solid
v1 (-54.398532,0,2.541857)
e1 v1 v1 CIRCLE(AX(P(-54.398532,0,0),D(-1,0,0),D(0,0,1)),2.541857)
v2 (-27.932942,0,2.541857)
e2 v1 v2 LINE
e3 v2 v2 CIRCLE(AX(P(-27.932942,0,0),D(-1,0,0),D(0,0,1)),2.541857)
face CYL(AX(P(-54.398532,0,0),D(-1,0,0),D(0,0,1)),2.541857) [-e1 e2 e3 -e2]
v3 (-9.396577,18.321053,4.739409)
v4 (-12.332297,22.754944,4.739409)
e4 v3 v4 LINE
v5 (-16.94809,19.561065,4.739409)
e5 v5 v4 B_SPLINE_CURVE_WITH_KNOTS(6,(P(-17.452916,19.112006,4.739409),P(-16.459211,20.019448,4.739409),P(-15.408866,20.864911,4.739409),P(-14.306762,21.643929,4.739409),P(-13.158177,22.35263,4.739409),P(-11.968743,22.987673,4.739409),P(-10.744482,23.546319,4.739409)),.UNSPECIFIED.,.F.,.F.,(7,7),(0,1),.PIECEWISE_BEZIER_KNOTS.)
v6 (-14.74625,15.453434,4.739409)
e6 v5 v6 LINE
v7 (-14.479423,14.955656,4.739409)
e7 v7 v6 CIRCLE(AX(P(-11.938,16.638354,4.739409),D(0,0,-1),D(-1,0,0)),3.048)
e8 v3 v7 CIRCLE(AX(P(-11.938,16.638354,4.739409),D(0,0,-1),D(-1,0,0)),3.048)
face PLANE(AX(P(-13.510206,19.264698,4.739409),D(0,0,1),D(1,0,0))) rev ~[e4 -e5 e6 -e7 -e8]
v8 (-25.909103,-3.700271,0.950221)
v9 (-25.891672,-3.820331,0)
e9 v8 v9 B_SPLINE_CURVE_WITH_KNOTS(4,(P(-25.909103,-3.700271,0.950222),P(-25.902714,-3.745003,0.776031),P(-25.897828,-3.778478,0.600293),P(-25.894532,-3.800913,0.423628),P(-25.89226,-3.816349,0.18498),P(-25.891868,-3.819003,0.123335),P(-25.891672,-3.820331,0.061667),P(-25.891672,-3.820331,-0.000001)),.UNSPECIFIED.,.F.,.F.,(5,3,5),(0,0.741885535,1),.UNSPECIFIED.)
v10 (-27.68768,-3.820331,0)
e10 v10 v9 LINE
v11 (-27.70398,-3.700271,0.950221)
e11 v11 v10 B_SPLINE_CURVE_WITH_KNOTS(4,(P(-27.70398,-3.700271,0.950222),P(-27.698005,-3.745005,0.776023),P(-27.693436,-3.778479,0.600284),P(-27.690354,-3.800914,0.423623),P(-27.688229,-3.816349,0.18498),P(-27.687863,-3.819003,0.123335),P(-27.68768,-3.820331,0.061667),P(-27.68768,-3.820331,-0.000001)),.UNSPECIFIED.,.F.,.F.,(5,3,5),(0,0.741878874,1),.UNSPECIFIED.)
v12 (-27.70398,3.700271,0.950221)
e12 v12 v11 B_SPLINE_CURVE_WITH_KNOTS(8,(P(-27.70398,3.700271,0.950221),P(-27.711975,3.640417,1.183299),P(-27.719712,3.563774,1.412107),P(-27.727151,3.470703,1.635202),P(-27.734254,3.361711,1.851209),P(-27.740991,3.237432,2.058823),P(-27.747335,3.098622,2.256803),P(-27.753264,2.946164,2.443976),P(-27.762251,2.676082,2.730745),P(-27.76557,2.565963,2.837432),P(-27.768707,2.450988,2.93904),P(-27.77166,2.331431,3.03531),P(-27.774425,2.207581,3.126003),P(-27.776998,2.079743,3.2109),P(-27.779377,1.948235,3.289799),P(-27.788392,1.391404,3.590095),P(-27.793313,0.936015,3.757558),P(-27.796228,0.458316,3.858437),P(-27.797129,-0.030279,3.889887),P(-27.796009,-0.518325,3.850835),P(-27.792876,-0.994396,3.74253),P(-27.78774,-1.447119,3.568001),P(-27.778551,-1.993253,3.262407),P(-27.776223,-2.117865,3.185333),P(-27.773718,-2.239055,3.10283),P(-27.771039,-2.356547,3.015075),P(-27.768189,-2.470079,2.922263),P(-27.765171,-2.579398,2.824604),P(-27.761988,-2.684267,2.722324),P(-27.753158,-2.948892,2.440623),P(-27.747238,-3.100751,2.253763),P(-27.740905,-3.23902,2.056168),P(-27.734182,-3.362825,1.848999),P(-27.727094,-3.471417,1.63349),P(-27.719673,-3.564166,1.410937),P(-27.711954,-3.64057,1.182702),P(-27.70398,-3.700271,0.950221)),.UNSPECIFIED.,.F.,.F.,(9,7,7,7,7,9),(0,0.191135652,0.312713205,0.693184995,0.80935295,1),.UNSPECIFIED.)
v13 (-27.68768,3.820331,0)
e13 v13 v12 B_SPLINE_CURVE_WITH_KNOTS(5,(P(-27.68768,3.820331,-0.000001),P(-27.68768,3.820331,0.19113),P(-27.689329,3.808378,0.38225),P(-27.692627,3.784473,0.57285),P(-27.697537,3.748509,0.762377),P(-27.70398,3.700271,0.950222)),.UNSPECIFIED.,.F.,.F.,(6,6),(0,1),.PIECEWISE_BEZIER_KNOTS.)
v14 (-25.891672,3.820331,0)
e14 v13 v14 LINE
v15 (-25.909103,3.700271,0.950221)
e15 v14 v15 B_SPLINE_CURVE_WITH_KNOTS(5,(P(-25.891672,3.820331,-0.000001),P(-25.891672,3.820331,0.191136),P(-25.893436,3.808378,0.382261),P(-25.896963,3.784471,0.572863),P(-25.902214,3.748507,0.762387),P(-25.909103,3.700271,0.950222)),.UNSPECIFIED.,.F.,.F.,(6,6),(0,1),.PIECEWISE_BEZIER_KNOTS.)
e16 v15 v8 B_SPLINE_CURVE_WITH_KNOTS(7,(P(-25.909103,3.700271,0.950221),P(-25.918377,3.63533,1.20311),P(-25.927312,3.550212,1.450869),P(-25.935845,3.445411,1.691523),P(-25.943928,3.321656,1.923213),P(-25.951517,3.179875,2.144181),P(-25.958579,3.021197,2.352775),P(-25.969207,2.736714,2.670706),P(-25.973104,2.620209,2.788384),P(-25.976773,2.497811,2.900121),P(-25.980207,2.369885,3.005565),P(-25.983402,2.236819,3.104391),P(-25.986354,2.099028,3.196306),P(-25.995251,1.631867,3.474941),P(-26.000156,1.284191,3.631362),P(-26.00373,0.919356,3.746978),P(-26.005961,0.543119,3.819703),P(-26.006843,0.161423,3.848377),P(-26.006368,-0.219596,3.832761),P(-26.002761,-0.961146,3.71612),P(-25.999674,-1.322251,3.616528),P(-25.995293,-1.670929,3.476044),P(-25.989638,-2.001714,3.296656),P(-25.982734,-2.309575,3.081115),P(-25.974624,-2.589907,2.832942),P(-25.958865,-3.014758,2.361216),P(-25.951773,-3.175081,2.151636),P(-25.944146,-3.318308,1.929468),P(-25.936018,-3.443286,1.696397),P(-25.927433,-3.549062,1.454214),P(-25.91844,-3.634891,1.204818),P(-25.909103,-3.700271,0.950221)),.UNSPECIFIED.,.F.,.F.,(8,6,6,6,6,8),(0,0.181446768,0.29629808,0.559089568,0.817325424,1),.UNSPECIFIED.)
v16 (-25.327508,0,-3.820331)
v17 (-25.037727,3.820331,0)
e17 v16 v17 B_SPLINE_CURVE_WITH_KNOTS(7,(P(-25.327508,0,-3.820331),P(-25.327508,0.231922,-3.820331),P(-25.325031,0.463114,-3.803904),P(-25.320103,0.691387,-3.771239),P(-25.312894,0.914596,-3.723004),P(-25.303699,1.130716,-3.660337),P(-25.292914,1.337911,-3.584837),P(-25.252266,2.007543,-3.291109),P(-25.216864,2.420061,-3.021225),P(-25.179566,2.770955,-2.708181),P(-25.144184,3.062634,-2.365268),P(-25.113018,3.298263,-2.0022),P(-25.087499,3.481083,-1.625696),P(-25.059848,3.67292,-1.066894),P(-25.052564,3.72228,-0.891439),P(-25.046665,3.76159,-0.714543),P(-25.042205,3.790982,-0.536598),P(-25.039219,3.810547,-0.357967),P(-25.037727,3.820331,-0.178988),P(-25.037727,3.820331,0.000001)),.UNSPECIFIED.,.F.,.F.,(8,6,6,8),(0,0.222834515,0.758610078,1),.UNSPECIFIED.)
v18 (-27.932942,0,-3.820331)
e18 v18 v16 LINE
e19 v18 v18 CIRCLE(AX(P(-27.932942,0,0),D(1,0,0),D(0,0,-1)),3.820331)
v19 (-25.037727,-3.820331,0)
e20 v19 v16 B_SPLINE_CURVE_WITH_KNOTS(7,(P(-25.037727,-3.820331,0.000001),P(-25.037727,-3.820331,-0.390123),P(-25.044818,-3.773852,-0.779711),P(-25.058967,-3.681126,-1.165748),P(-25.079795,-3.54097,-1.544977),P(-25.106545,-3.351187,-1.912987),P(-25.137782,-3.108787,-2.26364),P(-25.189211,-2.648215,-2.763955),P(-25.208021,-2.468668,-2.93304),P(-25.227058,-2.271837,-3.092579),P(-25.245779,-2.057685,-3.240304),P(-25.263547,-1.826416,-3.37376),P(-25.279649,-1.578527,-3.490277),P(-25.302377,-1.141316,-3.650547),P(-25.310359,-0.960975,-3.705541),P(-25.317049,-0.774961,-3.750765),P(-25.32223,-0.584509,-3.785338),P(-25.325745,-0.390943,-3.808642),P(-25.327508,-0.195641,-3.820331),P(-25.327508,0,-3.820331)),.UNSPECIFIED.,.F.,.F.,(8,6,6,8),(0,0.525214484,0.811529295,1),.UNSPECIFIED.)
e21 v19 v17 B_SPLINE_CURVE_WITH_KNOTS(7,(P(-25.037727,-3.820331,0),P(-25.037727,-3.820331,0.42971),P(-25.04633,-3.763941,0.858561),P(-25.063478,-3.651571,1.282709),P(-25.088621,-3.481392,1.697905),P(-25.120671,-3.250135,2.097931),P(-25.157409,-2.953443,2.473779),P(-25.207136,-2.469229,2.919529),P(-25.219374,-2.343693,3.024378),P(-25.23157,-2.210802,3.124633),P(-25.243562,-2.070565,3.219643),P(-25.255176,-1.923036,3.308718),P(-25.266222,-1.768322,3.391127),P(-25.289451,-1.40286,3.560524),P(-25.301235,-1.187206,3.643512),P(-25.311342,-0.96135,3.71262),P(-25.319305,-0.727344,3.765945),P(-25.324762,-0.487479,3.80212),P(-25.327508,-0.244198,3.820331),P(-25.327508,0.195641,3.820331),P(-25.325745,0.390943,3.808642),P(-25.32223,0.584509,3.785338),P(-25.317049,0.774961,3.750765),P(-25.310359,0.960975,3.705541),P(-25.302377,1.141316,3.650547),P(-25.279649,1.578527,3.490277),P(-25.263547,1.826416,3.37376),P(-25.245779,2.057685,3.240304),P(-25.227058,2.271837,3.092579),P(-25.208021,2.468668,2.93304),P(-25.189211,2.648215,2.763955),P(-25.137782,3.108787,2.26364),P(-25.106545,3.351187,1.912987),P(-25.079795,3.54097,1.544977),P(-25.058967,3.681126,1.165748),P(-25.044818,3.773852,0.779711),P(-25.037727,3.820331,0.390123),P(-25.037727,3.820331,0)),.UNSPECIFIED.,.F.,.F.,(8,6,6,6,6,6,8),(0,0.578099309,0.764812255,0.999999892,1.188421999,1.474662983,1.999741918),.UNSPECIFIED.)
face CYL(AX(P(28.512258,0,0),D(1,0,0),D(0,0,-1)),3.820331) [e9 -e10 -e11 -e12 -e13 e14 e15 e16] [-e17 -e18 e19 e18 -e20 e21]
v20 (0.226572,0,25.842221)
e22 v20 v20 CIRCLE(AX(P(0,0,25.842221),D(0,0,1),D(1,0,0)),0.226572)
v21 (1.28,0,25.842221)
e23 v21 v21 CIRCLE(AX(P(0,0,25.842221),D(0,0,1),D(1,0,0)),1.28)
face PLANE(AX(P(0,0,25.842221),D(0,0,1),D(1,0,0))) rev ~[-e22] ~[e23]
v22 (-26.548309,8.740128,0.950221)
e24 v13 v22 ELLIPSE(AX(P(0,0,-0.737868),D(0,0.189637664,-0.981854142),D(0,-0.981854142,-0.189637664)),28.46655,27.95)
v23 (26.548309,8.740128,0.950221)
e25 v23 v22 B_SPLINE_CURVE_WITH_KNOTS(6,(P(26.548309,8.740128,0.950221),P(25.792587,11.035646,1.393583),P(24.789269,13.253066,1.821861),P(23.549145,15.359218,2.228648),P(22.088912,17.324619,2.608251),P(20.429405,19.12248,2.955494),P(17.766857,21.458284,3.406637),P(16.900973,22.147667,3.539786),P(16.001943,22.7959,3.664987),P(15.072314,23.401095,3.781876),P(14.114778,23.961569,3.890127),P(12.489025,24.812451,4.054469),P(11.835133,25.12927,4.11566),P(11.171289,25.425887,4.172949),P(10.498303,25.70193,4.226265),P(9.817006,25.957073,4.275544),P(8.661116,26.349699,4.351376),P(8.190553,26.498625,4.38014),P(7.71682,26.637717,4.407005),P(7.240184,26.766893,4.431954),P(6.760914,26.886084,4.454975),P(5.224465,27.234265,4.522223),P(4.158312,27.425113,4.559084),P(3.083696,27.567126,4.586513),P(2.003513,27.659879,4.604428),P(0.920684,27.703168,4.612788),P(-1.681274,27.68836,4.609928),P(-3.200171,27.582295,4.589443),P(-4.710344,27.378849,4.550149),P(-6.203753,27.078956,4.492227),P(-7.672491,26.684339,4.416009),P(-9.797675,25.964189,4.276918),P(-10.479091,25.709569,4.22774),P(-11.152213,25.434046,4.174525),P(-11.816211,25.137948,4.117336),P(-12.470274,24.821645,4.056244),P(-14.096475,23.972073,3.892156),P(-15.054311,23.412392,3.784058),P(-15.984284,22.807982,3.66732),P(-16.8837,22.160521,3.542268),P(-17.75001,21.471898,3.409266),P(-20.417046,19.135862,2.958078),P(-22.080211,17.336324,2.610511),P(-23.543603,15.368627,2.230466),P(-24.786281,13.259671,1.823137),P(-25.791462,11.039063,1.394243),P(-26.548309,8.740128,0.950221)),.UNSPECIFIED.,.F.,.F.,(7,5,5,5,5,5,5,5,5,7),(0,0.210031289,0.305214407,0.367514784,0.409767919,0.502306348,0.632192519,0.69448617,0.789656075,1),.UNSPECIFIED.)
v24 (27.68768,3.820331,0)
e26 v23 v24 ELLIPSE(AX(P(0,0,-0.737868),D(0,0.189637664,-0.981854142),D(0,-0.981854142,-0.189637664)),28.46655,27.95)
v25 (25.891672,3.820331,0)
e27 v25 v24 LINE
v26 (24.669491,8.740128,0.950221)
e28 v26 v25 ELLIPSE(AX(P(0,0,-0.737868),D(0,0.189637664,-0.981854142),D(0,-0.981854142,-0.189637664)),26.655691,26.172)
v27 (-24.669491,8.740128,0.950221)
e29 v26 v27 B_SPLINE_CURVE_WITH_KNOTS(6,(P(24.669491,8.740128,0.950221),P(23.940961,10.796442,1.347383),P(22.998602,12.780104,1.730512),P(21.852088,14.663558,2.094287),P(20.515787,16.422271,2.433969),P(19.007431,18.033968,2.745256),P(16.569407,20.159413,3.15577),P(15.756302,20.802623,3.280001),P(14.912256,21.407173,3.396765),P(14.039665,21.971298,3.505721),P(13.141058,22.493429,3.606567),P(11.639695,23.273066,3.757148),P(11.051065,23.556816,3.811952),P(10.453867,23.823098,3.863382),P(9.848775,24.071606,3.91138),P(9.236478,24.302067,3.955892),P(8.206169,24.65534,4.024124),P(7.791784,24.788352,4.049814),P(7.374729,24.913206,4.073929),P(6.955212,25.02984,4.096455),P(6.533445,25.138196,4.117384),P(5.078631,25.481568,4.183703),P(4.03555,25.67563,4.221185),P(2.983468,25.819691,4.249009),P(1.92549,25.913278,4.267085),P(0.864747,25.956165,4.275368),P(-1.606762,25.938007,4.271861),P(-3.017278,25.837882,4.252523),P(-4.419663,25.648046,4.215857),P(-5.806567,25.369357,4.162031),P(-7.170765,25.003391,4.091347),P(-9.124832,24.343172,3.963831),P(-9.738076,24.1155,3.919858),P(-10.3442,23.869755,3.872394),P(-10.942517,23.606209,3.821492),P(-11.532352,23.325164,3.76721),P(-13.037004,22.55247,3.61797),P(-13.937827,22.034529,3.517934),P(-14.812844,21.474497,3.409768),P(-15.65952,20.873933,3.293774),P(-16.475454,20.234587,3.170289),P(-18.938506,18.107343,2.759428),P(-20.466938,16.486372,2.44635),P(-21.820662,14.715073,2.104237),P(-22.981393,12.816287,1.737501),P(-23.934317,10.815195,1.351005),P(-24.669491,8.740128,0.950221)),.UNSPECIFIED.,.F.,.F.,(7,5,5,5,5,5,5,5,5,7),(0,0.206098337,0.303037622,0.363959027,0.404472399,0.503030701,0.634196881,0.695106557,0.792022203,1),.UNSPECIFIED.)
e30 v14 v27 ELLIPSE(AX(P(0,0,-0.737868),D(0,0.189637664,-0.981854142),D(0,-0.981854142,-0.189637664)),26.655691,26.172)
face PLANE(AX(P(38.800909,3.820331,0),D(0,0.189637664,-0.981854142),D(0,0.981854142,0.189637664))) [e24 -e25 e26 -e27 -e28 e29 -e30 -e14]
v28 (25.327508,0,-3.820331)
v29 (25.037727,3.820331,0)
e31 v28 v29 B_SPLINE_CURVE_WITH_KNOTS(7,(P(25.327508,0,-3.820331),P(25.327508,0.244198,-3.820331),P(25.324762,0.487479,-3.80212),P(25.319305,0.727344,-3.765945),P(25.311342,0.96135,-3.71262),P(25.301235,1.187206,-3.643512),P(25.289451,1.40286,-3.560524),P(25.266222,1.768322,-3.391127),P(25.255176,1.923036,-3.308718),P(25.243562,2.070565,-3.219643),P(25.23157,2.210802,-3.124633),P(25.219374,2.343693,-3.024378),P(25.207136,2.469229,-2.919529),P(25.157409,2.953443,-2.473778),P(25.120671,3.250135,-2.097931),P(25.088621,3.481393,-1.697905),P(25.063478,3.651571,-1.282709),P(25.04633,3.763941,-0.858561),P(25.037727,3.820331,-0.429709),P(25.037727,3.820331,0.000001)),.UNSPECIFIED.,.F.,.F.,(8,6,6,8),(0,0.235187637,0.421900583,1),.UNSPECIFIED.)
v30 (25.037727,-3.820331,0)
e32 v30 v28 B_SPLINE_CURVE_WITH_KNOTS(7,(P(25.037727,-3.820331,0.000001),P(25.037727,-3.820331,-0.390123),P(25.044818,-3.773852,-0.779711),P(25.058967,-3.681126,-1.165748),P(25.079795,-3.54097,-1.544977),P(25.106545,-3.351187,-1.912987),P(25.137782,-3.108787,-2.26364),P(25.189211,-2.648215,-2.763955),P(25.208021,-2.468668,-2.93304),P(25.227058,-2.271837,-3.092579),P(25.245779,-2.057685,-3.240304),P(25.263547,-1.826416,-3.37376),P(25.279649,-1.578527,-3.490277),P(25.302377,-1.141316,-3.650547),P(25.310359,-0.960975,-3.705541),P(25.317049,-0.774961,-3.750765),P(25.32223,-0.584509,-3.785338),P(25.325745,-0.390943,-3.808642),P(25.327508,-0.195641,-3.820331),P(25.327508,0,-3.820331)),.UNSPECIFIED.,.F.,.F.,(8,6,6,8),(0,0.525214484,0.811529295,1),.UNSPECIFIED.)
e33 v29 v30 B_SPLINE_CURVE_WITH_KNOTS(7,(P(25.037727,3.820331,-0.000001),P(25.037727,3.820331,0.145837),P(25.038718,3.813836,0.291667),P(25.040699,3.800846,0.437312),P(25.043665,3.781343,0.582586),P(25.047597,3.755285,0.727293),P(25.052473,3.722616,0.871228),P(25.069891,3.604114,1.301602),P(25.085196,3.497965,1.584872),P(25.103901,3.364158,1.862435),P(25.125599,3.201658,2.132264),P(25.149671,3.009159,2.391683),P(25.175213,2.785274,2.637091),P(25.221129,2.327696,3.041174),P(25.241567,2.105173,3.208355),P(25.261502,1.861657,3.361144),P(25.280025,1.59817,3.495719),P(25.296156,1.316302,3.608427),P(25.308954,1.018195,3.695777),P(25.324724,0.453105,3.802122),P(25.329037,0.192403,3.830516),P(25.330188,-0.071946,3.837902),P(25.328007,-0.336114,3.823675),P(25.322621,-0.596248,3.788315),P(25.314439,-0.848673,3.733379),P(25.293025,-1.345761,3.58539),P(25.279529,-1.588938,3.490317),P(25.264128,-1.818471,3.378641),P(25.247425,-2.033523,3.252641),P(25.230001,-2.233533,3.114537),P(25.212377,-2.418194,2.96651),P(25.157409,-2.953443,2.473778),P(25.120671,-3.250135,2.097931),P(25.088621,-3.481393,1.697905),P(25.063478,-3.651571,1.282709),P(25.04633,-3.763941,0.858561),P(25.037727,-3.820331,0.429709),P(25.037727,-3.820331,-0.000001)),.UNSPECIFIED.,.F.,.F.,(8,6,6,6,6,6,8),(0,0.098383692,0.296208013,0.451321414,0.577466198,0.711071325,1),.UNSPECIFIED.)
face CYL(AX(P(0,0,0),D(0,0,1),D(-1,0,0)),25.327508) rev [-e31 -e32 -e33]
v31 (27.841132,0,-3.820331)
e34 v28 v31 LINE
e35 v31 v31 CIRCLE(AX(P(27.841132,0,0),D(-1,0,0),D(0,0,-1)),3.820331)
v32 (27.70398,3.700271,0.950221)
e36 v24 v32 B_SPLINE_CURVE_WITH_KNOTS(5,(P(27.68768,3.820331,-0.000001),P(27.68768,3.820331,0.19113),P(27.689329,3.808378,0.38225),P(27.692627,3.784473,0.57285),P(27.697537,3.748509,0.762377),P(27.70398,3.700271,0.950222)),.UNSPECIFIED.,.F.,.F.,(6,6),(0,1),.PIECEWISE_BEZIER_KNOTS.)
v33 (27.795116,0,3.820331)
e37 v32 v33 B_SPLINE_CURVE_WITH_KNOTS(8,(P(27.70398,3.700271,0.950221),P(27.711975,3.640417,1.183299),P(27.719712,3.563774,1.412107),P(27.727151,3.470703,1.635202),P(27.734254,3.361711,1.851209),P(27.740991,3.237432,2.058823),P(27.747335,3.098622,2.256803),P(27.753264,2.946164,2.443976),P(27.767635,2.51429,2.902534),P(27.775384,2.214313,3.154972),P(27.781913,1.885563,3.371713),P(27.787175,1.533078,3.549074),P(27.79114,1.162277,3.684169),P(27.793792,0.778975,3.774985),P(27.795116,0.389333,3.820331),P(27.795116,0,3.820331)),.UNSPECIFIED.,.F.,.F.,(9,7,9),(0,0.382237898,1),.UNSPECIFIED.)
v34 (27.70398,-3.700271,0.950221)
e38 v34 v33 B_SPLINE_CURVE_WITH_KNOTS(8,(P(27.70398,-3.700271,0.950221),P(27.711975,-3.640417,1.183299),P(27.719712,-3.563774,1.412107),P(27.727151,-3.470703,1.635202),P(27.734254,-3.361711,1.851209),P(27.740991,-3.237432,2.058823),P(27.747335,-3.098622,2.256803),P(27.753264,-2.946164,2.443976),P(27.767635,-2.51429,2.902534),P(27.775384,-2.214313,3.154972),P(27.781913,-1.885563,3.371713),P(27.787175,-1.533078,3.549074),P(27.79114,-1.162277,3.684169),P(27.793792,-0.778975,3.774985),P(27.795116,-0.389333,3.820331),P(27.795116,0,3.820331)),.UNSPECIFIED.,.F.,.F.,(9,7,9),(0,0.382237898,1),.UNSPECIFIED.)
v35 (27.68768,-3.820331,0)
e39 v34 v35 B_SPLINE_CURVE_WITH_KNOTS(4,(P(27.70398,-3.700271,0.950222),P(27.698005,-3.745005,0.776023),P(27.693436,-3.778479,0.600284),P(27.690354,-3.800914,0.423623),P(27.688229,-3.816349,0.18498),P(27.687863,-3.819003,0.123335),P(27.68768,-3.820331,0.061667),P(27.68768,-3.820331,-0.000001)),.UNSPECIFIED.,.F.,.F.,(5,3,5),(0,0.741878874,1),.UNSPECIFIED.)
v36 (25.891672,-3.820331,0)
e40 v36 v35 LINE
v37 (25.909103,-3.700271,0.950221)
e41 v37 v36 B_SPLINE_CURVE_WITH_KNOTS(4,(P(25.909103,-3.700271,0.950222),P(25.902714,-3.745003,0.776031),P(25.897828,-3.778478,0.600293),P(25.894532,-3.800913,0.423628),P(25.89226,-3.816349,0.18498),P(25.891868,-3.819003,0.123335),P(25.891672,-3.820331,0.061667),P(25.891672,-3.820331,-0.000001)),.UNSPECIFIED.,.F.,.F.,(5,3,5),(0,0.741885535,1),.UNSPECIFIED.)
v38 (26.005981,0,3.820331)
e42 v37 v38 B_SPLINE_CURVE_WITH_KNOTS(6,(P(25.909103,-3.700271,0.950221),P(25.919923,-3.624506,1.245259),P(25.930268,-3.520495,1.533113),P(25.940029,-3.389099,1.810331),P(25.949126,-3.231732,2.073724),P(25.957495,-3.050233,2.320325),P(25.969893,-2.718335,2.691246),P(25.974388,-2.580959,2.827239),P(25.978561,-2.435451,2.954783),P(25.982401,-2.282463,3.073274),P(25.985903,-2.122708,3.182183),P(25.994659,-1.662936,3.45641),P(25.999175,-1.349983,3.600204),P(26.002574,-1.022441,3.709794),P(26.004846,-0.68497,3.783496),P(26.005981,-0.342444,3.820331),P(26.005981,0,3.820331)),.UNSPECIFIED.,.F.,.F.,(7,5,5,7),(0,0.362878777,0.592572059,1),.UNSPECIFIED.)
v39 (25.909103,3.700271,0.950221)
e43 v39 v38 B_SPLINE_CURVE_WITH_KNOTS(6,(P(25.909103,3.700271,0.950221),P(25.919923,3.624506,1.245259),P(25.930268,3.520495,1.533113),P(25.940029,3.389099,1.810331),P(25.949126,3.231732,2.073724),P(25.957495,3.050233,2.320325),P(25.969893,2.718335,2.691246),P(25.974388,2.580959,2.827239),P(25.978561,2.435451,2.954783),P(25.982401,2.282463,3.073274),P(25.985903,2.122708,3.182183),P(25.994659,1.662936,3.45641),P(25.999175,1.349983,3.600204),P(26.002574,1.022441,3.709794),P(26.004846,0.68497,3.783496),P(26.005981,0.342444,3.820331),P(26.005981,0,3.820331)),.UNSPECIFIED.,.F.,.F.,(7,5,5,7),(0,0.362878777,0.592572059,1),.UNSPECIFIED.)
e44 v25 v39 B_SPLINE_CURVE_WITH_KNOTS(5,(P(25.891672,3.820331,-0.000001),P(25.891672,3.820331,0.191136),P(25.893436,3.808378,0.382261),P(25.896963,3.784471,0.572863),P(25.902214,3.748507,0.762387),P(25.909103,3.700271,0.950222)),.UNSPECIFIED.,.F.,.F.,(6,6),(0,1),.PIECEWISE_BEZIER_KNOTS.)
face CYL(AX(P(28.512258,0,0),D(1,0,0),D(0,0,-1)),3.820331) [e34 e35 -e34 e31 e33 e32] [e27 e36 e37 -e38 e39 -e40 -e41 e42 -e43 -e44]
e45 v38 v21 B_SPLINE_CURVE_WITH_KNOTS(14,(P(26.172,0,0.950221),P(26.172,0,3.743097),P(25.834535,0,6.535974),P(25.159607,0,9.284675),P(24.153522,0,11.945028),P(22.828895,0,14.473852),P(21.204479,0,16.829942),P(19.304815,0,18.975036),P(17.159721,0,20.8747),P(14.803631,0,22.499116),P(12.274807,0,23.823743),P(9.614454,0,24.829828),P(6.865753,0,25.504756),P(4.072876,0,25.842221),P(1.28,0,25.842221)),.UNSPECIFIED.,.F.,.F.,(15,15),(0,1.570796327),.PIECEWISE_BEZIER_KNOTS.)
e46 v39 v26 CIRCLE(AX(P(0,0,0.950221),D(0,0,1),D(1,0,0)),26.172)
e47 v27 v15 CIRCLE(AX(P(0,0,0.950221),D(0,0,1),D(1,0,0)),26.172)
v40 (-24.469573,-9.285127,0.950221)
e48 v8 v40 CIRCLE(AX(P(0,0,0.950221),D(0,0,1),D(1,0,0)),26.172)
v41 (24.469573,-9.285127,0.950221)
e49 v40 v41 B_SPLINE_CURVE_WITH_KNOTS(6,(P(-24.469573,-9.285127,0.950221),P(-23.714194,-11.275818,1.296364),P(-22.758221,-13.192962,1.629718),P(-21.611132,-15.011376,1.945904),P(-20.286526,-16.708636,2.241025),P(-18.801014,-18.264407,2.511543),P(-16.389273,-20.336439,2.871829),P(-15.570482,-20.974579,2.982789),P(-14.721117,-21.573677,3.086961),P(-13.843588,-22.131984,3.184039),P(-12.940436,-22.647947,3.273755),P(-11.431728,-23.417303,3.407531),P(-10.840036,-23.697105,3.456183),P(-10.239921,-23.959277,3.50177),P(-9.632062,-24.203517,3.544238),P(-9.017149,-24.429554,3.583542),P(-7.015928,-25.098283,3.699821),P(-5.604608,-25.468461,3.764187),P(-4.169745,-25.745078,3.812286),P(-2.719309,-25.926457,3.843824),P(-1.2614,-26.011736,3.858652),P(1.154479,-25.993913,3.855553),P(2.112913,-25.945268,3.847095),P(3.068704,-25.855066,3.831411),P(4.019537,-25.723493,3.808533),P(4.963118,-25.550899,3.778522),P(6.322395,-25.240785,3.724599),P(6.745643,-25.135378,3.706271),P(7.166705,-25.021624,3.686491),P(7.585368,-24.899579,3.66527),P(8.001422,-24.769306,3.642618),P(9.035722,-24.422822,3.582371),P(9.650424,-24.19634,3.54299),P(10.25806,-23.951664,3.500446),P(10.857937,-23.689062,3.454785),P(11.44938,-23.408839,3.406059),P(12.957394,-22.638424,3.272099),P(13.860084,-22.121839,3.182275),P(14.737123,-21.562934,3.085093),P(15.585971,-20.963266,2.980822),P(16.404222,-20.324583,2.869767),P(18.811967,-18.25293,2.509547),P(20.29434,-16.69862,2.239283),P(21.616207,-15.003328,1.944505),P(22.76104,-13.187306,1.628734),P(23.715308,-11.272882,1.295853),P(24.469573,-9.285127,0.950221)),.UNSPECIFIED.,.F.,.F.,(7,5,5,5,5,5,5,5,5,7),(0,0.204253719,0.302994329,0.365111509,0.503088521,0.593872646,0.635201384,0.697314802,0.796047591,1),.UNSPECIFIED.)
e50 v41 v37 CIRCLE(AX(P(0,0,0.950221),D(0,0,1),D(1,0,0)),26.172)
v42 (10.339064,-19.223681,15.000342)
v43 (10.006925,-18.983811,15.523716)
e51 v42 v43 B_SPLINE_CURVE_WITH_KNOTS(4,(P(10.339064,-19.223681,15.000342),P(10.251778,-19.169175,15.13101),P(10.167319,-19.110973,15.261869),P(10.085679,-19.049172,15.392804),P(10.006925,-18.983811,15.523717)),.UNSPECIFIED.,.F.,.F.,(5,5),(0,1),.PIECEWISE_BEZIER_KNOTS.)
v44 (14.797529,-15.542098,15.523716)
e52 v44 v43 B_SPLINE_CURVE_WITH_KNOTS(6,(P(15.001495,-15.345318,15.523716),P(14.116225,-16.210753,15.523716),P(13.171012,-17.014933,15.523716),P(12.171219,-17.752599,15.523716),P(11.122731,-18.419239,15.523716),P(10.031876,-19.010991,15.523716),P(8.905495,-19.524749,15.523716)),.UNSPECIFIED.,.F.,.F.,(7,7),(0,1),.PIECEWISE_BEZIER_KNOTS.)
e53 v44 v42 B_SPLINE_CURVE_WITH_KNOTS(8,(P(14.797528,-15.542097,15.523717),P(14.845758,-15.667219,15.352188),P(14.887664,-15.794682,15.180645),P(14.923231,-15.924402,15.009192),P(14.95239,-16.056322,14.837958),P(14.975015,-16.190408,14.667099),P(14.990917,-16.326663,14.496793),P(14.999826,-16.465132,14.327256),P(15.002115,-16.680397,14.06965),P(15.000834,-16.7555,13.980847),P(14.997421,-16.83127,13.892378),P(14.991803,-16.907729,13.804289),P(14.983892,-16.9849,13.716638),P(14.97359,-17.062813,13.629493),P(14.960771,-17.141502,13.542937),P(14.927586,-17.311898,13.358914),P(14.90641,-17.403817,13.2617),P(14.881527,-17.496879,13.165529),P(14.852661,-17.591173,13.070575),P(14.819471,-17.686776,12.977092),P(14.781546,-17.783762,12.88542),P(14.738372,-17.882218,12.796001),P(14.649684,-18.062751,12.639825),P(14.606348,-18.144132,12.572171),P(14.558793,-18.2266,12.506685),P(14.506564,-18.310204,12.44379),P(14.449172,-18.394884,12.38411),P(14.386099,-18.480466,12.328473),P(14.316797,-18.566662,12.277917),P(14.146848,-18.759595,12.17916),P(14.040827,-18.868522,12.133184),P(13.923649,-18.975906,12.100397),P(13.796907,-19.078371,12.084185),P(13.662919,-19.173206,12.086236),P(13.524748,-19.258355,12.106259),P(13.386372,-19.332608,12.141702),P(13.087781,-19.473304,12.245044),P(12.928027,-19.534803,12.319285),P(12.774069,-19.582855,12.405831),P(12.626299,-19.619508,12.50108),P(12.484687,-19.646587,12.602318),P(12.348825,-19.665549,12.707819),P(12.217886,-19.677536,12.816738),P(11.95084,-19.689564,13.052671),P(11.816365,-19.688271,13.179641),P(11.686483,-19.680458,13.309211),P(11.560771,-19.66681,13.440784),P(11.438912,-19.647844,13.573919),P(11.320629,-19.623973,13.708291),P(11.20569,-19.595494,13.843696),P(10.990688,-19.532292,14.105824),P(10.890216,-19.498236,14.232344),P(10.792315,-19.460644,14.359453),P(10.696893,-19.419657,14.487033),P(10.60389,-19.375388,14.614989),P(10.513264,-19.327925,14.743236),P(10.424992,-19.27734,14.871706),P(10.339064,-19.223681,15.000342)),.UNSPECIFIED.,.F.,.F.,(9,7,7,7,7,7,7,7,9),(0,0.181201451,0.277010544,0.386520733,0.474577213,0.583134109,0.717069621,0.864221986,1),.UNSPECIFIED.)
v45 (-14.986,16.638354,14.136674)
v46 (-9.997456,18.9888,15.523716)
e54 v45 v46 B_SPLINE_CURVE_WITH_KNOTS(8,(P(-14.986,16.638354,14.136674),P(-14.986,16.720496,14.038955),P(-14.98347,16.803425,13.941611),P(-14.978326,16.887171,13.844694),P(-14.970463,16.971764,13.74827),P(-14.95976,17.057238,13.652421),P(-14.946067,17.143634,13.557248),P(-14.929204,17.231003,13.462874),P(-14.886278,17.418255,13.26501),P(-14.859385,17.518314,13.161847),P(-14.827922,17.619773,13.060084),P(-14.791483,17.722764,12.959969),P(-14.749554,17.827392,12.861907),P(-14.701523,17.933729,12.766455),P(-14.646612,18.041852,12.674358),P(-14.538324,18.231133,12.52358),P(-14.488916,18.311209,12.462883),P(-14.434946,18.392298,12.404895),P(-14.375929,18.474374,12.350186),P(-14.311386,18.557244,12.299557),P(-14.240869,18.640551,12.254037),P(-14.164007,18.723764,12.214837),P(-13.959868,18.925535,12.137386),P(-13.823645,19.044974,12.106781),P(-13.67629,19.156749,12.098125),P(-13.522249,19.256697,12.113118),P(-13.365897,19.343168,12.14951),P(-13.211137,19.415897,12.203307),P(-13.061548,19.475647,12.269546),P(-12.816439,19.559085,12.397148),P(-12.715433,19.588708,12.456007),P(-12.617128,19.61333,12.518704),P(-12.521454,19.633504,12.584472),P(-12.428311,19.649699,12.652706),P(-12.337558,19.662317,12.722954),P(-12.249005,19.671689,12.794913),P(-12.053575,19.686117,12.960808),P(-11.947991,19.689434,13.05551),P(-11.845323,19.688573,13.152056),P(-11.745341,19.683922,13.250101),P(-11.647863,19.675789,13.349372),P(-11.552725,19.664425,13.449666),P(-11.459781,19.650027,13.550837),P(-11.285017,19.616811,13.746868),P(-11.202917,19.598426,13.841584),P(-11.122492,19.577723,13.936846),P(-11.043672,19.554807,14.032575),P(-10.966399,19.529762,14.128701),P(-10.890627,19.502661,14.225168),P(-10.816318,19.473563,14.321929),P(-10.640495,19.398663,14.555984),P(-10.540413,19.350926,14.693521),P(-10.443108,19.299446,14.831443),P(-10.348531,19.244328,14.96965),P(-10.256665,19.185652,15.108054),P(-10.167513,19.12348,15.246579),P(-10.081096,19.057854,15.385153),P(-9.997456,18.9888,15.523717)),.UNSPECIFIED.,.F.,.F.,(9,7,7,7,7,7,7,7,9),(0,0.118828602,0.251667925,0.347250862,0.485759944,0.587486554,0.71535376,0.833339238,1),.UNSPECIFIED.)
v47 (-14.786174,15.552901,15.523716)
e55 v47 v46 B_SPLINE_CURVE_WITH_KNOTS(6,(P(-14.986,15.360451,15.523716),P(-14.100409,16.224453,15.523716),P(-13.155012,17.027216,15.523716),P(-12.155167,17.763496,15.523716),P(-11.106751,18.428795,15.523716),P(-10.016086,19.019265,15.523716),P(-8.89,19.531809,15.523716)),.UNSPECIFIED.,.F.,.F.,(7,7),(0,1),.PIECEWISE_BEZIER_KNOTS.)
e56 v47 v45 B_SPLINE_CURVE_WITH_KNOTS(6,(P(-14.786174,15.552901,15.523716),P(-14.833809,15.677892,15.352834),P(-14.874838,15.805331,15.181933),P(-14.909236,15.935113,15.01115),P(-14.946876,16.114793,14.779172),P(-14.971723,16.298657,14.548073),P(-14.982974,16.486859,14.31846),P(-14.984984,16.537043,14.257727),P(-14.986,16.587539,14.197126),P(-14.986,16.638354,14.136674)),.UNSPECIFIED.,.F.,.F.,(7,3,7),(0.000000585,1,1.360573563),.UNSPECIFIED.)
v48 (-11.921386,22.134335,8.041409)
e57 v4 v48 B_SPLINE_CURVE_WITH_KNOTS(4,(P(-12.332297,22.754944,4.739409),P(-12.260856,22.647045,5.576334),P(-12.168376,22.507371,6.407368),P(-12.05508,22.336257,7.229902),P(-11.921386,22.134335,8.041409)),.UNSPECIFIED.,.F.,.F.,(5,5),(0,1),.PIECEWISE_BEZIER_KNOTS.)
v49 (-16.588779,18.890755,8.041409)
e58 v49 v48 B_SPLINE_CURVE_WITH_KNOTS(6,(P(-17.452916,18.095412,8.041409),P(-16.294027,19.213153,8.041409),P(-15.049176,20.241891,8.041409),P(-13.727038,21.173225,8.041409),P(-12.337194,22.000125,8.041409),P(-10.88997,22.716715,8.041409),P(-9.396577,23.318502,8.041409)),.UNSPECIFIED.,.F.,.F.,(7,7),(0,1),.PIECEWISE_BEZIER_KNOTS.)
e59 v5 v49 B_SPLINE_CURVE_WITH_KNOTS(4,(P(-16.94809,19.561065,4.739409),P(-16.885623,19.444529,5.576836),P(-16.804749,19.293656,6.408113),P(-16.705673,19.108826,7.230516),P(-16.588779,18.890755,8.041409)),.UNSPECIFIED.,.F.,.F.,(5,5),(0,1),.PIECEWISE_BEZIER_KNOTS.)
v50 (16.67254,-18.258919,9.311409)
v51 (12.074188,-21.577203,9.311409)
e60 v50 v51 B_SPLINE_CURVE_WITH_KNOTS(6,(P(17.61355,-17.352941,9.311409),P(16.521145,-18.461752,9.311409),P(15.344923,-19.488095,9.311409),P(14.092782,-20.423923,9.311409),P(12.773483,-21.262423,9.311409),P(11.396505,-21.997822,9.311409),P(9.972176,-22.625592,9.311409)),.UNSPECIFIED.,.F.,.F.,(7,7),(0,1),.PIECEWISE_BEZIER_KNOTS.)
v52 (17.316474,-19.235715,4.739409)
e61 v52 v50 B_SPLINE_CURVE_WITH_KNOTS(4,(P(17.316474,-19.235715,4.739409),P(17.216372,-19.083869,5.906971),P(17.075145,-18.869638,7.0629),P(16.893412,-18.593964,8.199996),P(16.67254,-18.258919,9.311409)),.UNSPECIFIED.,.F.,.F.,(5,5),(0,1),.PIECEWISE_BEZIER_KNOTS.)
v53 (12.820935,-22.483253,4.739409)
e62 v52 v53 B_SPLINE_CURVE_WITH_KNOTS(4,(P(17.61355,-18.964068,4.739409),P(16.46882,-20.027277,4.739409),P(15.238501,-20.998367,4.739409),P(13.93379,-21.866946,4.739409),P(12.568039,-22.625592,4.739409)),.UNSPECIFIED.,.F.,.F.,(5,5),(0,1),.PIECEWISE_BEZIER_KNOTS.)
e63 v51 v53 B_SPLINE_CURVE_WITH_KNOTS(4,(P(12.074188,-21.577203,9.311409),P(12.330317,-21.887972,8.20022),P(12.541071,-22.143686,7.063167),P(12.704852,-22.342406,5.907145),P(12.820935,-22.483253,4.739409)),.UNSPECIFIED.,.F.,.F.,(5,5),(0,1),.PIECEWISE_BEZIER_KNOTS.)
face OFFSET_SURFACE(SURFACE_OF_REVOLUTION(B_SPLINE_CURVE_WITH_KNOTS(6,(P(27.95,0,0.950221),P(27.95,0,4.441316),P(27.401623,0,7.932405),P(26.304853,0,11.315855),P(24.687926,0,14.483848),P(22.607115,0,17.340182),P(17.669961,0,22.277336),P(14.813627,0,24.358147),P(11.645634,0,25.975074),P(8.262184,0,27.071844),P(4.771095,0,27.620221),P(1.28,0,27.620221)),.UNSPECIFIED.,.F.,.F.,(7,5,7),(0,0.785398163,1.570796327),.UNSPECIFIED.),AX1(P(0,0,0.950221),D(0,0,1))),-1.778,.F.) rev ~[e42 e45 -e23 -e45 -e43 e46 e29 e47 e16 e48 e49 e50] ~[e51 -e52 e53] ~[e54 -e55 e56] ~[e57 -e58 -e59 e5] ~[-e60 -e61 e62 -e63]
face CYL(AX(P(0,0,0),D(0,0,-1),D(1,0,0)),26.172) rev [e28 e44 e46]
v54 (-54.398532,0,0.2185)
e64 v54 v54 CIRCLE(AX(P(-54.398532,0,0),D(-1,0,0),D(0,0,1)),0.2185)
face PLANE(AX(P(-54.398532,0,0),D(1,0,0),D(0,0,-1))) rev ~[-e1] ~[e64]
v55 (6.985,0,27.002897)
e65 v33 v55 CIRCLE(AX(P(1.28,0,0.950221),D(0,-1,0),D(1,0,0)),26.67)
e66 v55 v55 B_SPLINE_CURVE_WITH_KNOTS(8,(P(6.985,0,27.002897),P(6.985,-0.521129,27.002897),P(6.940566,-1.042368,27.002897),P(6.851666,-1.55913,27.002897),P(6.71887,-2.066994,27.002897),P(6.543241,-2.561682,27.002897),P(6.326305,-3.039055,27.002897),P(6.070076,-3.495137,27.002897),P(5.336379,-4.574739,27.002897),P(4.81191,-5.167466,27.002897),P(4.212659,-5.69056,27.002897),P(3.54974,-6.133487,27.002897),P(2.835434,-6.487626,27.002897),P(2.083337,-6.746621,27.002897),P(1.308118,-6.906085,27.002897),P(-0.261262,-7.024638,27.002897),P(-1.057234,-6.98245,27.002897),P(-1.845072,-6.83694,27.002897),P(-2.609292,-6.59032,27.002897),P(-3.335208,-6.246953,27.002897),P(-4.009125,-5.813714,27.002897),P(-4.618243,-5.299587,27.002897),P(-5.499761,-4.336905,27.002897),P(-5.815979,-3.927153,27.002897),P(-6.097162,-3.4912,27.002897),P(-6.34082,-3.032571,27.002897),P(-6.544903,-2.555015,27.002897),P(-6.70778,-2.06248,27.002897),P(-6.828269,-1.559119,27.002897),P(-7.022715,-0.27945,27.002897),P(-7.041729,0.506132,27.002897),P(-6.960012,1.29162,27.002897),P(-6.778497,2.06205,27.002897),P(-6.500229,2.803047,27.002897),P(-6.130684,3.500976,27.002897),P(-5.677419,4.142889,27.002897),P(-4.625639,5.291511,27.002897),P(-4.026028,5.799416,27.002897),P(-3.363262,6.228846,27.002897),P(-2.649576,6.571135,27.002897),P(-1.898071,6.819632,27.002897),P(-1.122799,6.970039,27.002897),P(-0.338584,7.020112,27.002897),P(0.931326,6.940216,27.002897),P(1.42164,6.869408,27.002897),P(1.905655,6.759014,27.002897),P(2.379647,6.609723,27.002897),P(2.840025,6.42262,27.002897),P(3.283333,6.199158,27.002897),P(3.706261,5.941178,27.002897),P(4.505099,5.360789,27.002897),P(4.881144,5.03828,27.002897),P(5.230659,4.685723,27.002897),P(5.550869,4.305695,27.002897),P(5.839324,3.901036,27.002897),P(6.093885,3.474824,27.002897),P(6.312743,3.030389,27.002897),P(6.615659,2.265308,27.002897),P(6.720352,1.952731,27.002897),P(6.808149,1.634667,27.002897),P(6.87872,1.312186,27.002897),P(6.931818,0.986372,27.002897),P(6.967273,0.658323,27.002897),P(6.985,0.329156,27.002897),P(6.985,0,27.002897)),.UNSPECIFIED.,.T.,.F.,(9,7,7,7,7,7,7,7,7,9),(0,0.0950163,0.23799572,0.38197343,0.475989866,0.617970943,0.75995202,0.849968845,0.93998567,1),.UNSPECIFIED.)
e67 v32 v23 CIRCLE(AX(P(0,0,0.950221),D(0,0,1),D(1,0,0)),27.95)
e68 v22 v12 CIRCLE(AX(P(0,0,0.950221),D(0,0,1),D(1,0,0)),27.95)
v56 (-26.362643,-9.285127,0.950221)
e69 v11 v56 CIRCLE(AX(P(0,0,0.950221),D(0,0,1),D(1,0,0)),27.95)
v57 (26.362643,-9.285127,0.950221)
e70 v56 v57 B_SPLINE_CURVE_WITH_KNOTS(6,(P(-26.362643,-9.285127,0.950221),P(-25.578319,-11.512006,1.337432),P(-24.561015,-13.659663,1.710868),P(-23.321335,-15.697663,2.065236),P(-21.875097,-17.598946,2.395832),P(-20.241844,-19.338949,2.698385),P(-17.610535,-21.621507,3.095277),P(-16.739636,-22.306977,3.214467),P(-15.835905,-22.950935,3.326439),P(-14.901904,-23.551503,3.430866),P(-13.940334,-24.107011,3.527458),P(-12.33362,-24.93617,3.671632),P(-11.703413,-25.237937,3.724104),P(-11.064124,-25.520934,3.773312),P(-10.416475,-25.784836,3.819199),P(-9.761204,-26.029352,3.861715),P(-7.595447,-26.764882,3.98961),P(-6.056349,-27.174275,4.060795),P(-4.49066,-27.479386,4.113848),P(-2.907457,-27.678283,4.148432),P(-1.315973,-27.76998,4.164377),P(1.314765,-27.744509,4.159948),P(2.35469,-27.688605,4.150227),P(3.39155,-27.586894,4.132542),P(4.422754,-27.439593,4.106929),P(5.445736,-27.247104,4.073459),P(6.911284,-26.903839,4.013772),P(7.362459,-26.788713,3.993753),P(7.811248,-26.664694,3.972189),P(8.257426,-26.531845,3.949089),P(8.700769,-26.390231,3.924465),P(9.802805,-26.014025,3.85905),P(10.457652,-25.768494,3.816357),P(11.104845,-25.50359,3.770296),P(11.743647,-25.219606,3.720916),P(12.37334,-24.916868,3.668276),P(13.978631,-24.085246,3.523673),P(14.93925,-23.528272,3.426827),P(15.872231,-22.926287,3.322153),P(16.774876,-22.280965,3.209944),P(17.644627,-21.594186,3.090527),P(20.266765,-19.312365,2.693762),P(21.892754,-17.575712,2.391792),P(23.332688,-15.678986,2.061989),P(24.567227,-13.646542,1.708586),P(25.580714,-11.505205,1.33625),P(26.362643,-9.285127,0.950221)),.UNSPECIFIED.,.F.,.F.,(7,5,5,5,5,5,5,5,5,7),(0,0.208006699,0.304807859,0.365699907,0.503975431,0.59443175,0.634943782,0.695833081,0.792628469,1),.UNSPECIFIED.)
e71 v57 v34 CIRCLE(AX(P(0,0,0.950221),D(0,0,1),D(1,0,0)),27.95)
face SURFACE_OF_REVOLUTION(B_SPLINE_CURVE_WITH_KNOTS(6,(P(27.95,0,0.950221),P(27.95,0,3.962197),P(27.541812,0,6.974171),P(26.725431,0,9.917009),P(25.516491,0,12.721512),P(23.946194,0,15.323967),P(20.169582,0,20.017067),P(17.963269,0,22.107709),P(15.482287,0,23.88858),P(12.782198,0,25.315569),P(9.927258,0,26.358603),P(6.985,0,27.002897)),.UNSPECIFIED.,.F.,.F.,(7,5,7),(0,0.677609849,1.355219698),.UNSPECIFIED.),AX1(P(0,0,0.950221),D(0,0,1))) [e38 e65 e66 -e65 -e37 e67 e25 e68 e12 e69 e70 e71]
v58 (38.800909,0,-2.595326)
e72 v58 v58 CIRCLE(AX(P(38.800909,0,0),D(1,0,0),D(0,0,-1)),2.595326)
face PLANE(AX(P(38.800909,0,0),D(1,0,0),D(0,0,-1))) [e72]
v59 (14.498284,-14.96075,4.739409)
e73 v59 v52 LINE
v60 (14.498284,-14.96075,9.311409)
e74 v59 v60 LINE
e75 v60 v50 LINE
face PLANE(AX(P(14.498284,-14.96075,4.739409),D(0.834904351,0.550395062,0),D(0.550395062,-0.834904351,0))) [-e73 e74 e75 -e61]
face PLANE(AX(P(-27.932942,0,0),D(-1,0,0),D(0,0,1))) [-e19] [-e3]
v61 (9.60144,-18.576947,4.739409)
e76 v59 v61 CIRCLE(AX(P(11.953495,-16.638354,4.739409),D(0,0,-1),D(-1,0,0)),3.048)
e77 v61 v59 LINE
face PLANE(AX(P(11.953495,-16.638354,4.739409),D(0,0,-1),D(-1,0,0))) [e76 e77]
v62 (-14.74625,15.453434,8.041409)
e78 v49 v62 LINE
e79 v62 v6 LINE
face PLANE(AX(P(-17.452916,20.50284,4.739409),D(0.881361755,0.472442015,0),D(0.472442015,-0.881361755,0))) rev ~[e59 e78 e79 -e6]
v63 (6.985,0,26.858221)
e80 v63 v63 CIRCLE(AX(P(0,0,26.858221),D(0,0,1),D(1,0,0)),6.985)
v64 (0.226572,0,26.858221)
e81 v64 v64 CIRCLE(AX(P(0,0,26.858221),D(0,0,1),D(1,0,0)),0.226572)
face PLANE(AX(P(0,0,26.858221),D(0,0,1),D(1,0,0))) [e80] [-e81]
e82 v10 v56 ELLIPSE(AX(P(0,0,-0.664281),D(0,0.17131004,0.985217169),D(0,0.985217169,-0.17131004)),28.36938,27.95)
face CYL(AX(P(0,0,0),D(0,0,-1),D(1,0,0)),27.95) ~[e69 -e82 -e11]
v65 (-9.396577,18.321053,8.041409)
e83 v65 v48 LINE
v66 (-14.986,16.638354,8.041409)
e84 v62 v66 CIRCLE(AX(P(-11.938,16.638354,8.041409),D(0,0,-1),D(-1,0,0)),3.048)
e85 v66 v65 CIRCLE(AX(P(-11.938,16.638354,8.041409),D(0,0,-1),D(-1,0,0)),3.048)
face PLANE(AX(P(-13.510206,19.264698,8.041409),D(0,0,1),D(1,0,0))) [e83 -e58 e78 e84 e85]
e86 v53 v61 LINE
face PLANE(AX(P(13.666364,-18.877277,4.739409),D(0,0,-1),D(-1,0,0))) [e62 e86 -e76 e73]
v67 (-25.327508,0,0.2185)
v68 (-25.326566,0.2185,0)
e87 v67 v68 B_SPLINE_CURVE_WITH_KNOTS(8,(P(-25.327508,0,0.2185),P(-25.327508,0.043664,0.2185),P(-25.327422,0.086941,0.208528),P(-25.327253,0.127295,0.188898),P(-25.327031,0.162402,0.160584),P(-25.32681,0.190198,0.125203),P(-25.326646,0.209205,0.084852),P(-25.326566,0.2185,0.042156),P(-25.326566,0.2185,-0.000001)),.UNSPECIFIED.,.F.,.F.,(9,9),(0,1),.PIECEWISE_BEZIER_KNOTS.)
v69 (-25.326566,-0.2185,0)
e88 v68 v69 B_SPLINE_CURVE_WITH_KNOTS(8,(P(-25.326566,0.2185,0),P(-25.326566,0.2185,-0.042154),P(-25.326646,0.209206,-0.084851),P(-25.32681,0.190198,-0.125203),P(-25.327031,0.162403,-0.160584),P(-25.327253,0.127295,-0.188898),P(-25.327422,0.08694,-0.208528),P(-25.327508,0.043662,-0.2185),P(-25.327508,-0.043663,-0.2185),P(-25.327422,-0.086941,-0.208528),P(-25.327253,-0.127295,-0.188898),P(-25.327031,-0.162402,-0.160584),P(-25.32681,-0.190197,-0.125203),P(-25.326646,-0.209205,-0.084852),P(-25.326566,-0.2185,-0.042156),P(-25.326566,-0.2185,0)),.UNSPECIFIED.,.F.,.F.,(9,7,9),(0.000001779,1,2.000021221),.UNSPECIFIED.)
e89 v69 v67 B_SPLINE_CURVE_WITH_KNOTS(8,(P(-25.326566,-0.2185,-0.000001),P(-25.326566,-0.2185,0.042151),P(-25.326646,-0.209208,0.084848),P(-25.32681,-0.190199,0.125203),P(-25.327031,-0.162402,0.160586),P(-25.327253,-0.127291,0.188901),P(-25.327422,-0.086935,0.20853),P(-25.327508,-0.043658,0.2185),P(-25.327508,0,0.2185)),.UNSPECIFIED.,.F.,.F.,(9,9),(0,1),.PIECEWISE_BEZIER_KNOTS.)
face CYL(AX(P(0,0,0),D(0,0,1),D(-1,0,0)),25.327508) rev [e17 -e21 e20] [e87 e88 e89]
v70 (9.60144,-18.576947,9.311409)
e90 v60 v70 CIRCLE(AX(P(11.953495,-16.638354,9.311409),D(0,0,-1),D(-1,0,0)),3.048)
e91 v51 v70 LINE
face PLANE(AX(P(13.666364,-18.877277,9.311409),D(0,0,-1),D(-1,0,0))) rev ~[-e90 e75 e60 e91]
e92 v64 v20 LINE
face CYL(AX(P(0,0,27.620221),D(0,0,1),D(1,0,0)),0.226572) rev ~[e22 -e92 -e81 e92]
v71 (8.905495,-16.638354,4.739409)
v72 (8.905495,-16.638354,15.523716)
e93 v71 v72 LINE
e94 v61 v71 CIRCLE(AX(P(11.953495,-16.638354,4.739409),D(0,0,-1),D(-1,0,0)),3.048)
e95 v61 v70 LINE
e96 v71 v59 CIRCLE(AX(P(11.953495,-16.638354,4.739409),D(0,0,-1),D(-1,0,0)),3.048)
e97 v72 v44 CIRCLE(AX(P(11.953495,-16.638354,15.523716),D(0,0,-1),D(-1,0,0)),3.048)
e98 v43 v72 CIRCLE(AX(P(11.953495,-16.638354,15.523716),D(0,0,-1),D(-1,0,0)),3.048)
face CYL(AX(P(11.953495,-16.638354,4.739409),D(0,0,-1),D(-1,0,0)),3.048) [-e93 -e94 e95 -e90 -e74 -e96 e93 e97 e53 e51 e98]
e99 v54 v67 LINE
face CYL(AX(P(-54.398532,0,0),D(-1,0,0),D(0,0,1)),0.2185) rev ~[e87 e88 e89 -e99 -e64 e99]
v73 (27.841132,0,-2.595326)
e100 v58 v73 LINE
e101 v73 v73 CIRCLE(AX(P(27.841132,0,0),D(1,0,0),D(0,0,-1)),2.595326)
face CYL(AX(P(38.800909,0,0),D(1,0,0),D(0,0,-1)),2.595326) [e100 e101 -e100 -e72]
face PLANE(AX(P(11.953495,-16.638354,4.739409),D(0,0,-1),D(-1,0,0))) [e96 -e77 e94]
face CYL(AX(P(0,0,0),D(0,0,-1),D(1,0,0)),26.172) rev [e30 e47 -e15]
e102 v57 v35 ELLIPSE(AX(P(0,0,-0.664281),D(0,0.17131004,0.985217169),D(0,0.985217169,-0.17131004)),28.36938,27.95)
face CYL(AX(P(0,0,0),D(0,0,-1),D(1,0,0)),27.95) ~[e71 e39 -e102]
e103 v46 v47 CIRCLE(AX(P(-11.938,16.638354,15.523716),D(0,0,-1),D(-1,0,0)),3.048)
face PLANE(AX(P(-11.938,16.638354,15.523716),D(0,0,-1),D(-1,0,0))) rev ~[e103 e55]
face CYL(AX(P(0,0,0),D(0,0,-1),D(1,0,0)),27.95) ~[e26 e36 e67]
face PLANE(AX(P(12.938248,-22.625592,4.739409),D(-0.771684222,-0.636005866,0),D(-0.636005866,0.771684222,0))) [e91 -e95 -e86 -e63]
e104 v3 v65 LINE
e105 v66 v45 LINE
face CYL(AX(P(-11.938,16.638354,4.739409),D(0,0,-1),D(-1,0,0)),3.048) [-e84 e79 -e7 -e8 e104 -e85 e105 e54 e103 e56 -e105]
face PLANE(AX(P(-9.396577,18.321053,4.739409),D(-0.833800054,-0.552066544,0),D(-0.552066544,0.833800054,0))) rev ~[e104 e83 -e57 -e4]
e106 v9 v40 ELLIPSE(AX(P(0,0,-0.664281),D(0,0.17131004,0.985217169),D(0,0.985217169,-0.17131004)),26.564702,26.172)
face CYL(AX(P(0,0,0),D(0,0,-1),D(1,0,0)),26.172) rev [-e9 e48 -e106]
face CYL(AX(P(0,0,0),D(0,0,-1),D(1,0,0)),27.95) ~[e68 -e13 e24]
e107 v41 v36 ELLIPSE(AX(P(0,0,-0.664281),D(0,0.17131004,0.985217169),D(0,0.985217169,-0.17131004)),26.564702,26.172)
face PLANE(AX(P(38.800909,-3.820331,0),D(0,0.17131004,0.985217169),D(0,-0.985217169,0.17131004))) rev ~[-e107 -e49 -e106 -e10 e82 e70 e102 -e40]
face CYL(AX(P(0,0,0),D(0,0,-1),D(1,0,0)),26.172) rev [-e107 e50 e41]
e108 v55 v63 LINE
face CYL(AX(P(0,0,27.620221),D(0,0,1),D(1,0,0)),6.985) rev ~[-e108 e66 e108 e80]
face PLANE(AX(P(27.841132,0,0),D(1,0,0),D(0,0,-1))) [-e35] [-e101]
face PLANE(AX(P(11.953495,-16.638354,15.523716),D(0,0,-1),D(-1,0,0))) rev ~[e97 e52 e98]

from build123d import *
from build123d.topology import SkipClean

# Parameters (mm, degrees)
SKETCH1_R                = 27.950000405
BOSS_EXTRUDE1_DEPTH      = 27.620221436
FILLET1_R                = 26.67
SHELL1_T                 = -1.778
SKETCH3_W                = 2.977781537
SKETCH3_H                = 2.754447922
BOSS_EXTRUDE3_DEPTH      = 1.016
SKETCH4_R                = 3.820330599
BOSS_EXTRUDE4_DEPTH      = 10.288651178
BOSS_EXTRUDE4_DEPTH_BACK = 82.910790355
SKETCH5_R                = 0.218500346
CUT_EXTRUDE1_DEPTH       = 74.422
SKETCH6_R                = 4.452679147
SKETCH6_R_2              = 2.541856533
CUT_EXTRUDE2_DEPTH       = 26.465589921
SKETCH7_R                = 4.579796813
SKETCH7_R_2              = 2.595326306
CUT_EXTRUDE3_DEPTH       = 10.959776966
SKETCH9_R                = 25.327508304
CUT_EXTRUDE4_DEPTH       = 8.128
CUT_EXTRUDE4_DEPTH_BACK  = 4.572
SKETCH10_R               = 0.226571895
CUT_EXTRUDE5_DEPTH       = 5.588
SKETCH11_R               = 0.957654217
BOSS_EXTRUDE5_DEPTH      = 22.86
SKETCH12_R               = 3.048
BOSS_EXTRUDE6_DEPTH      = 10.78430752
BOSS_EXTRUDE6_2_DEPTH    = 10.78430752
SKETCH14_R               = 2.111885876
CUT_EXTRUDE6_DEPTH       = 33.274
CUT_EXTRUDE7_DEPTH       = 66.802
CUT_EXTRUDE8_DEPTH       = 66.802
SKETCH17_R               = 6.985
CUT_EXTRUDE9_DEPTH       = 0.762
BOSS_EXTRUDE7_DEPTH      = 3.302
BOSS_EXTRUDE8_DEPTH      = 4.572


with BuildPart() as part:
    # Sketch1 → Boss-Extrude1 (new body)
    with BuildSketch(Plane.XY):
        Circle(SKETCH1_R)
    extrude(amount=BOSS_EXTRUDE1_DEPTH)

    # Fillet1
    fillet1_edges = [part.edges().sort_by_distance(p)[0] for p in [
        (-27.950000405, 0, 27.620221436),
    ]]
    fillet(fillet1_edges, radius=FILLET1_R)

    # Shell1
    shell1_openings = [part.faces().sort_by_distance(p)[0] for p in [
        (0, 0, 0),
    ]]
    offset(amount=SHELL1_T, openings=shell1_openings, kind=Kind.INTERSECTION)

    # Sketch3 → Boss-Extrude3 (add)
    with BuildSketch(Plane(origin=(0, 0, 0), x_dir=(-1, 0, 0), z_dir=(0, 0, -1))):
        with Locations((-27.023367447, 0)):
            Rectangle(SKETCH3_W, SKETCH3_H)
    extrude(amount=BOSS_EXTRUDE3_DEPTH)

    # Sketch4 → Boss-Extrude4 (add, two sides)
    with BuildSketch(Plane(origin=(28.512258215, 0, 0), x_dir=(0, 0, -1), z_dir=(1, 0, 0))) as boss_extrude4_sk:
        Circle(SKETCH4_R)
    extrude(amount=BOSS_EXTRUDE4_DEPTH)
    extrude(boss_extrude4_sk.sketch, amount=-BOSS_EXTRUDE4_DEPTH_BACK)

    # Sketch5 → Cut-Extrude1 (cut)
    with BuildSketch(Plane.ZY.offset(54.39853214)):
        Circle(SKETCH5_R)
    extrude(amount=-CUT_EXTRUDE1_DEPTH, mode=Mode.SUBTRACT)

    # Sketch6 → Cut-Extrude2 (cut)
    with BuildSketch(Plane.ZY.offset(54.39853214)):
        Circle(SKETCH6_R)
        Circle(SKETCH6_R_2, mode=Mode.SUBTRACT)
    extrude(amount=-CUT_EXTRUDE2_DEPTH, mode=Mode.SUBTRACT)

    # Sketch7 → Cut-Extrude3 (cut)
    with BuildSketch(Plane(origin=(38.800909393, 0, 0), x_dir=(0, 0, -1), z_dir=(1, 0, 0))):
        Circle(SKETCH7_R)
        Circle(SKETCH7_R_2, mode=Mode.SUBTRACT)
    extrude(amount=-CUT_EXTRUDE3_DEPTH, mode=Mode.SUBTRACT)

    # Sketch9 → Cut-Extrude4 (cut, two sides)
    with BuildSketch(Plane(origin=(0, 0, 0), x_dir=(-1, 0, 0), z_dir=(0, 0, -1))) as cut_extrude4_sk:
        Circle(SKETCH9_R)
    extrude(amount=CUT_EXTRUDE4_DEPTH, mode=Mode.SUBTRACT)
    extrude(cut_extrude4_sk.sketch, amount=-CUT_EXTRUDE4_DEPTH_BACK, mode=Mode.SUBTRACT)

    # Sketch10 → Cut-Extrude5 (cut)
    with BuildSketch(Plane.XY.offset(27.620221436)):
        Circle(SKETCH10_R)
    extrude(amount=-CUT_EXTRUDE5_DEPTH, mode=Mode.SUBTRACT)

    # Sketch15 → Cut-Extrude7 (cut)
    with BuildSketch(Plane(origin=(38.800909393, 0, 0), x_dir=(0, 0, -1), z_dir=(1, 0, 0))):
        Polygon((0, 3.820330599), (-4.891274508, 29.145036791), (1.659844873, 29.145036791), align=None)
    extrude(amount=-CUT_EXTRUDE7_DEPTH, mode=Mode.SUBTRACT)

    # Sketch16 → Cut-Extrude8 (cut)
    with BuildSketch(Plane(origin=(38.800909393, 0, 0), x_dir=(0, 0, -1), z_dir=(1, 0, 0))):
        Polygon((0, -3.820330599), (-4.28892383, -28.486260213), (3.820330599, -28.486260213), align=None)
    extrude(amount=-CUT_EXTRUDE8_DEPTH, mode=Mode.SUBTRACT)

    # Sketch17 → Cut-Extrude9 (cut)
    with BuildSketch(Plane.XY.offset(27.620221436)):
        Circle(SKETCH17_R)
    extrude(amount=-CUT_EXTRUDE9_DEPTH, mode=Mode.SUBTRACT)



with BuildPart() as body_2:
    # Sketch11 → Boss-Extrude5 (new body)
    with BuildSketch(Plane.XY.offset(27.599408823)):
        Circle(SKETCH11_R)
    extrude(amount=-BOSS_EXTRUDE5_DEPTH)

    # Sketch14 → Cut-Extrude6 (cut)
    with BuildSketch(Plane(origin=(0, 0, 0), x_dir=(-1, 0, 0), z_dir=(0, 0, -1))):
        Circle(SKETCH14_R)
    extrude(amount=-CUT_EXTRUDE6_DEPTH, mode=Mode.SUBTRACT)


with BuildPart() as body_3:
    # Sketch12 → Boss-Extrude6 (new body)
    with BuildSketch(Plane(origin=(0, 0, 4.739408823), x_dir=(-1, 0, 0), z_dir=(0, 0, -1))):
        with Locations((11.938, 16.638354337)):
            Circle(SKETCH12_R)
    extrude(amount=-BOSS_EXTRUDE6_DEPTH)


with BuildPart() as body_4:
    # Sketch12 → Boss-Extrude6 2 (new body)
    with BuildSketch(Plane(origin=(0, 0, 4.739408823), x_dir=(-1, 0, 0), z_dir=(0, 0, -1))):
        with Locations((-11.953495285, -16.638354337)):
            Circle(SKETCH12_R)
    extrude(amount=-BOSS_EXTRUDE6_2_DEPTH)


with BuildPart() as part_1:
    add(part.part)

    add(body_3.part)  # Boss-Extrude7 merges body 3
    # Sketch18 → Boss-Extrude7 (add)
    with BuildSketch(Plane(origin=(0, 0, 4.739408823), x_dir=(-1, 0, 0), z_dir=(0, 0, -1))):
        Polygon((9.396577434, 18.321053164), (12.856272932, 23.546318713), (17.452915624, 20.502840084), (14.479422566, 14.95565551), align=None)
    extrude(amount=-BOSS_EXTRUDE7_DEPTH)


    with SkipClean():  # the faces are left unmerged after this step: merging them gives an invalid solid
        add(body_4.part)  # Boss-Extrude8 merges body 4
        # Sketch19 → Boss-Extrude8 (add)
        with BuildSketch(Plane(origin=(0, 0, 4.739408823), x_dir=(-1, 0, 0), z_dir=(0, 0, -1))):
            Polygon((-14.498283748, -14.960750189), (-17.613549805, -19.686354337), (-12.938248054, -22.625591837), (-9.601439985, -18.576946575), align=None)
        extrude(amount=-BOSS_EXTRUDE8_DEPTH)


solid = part_1.part
